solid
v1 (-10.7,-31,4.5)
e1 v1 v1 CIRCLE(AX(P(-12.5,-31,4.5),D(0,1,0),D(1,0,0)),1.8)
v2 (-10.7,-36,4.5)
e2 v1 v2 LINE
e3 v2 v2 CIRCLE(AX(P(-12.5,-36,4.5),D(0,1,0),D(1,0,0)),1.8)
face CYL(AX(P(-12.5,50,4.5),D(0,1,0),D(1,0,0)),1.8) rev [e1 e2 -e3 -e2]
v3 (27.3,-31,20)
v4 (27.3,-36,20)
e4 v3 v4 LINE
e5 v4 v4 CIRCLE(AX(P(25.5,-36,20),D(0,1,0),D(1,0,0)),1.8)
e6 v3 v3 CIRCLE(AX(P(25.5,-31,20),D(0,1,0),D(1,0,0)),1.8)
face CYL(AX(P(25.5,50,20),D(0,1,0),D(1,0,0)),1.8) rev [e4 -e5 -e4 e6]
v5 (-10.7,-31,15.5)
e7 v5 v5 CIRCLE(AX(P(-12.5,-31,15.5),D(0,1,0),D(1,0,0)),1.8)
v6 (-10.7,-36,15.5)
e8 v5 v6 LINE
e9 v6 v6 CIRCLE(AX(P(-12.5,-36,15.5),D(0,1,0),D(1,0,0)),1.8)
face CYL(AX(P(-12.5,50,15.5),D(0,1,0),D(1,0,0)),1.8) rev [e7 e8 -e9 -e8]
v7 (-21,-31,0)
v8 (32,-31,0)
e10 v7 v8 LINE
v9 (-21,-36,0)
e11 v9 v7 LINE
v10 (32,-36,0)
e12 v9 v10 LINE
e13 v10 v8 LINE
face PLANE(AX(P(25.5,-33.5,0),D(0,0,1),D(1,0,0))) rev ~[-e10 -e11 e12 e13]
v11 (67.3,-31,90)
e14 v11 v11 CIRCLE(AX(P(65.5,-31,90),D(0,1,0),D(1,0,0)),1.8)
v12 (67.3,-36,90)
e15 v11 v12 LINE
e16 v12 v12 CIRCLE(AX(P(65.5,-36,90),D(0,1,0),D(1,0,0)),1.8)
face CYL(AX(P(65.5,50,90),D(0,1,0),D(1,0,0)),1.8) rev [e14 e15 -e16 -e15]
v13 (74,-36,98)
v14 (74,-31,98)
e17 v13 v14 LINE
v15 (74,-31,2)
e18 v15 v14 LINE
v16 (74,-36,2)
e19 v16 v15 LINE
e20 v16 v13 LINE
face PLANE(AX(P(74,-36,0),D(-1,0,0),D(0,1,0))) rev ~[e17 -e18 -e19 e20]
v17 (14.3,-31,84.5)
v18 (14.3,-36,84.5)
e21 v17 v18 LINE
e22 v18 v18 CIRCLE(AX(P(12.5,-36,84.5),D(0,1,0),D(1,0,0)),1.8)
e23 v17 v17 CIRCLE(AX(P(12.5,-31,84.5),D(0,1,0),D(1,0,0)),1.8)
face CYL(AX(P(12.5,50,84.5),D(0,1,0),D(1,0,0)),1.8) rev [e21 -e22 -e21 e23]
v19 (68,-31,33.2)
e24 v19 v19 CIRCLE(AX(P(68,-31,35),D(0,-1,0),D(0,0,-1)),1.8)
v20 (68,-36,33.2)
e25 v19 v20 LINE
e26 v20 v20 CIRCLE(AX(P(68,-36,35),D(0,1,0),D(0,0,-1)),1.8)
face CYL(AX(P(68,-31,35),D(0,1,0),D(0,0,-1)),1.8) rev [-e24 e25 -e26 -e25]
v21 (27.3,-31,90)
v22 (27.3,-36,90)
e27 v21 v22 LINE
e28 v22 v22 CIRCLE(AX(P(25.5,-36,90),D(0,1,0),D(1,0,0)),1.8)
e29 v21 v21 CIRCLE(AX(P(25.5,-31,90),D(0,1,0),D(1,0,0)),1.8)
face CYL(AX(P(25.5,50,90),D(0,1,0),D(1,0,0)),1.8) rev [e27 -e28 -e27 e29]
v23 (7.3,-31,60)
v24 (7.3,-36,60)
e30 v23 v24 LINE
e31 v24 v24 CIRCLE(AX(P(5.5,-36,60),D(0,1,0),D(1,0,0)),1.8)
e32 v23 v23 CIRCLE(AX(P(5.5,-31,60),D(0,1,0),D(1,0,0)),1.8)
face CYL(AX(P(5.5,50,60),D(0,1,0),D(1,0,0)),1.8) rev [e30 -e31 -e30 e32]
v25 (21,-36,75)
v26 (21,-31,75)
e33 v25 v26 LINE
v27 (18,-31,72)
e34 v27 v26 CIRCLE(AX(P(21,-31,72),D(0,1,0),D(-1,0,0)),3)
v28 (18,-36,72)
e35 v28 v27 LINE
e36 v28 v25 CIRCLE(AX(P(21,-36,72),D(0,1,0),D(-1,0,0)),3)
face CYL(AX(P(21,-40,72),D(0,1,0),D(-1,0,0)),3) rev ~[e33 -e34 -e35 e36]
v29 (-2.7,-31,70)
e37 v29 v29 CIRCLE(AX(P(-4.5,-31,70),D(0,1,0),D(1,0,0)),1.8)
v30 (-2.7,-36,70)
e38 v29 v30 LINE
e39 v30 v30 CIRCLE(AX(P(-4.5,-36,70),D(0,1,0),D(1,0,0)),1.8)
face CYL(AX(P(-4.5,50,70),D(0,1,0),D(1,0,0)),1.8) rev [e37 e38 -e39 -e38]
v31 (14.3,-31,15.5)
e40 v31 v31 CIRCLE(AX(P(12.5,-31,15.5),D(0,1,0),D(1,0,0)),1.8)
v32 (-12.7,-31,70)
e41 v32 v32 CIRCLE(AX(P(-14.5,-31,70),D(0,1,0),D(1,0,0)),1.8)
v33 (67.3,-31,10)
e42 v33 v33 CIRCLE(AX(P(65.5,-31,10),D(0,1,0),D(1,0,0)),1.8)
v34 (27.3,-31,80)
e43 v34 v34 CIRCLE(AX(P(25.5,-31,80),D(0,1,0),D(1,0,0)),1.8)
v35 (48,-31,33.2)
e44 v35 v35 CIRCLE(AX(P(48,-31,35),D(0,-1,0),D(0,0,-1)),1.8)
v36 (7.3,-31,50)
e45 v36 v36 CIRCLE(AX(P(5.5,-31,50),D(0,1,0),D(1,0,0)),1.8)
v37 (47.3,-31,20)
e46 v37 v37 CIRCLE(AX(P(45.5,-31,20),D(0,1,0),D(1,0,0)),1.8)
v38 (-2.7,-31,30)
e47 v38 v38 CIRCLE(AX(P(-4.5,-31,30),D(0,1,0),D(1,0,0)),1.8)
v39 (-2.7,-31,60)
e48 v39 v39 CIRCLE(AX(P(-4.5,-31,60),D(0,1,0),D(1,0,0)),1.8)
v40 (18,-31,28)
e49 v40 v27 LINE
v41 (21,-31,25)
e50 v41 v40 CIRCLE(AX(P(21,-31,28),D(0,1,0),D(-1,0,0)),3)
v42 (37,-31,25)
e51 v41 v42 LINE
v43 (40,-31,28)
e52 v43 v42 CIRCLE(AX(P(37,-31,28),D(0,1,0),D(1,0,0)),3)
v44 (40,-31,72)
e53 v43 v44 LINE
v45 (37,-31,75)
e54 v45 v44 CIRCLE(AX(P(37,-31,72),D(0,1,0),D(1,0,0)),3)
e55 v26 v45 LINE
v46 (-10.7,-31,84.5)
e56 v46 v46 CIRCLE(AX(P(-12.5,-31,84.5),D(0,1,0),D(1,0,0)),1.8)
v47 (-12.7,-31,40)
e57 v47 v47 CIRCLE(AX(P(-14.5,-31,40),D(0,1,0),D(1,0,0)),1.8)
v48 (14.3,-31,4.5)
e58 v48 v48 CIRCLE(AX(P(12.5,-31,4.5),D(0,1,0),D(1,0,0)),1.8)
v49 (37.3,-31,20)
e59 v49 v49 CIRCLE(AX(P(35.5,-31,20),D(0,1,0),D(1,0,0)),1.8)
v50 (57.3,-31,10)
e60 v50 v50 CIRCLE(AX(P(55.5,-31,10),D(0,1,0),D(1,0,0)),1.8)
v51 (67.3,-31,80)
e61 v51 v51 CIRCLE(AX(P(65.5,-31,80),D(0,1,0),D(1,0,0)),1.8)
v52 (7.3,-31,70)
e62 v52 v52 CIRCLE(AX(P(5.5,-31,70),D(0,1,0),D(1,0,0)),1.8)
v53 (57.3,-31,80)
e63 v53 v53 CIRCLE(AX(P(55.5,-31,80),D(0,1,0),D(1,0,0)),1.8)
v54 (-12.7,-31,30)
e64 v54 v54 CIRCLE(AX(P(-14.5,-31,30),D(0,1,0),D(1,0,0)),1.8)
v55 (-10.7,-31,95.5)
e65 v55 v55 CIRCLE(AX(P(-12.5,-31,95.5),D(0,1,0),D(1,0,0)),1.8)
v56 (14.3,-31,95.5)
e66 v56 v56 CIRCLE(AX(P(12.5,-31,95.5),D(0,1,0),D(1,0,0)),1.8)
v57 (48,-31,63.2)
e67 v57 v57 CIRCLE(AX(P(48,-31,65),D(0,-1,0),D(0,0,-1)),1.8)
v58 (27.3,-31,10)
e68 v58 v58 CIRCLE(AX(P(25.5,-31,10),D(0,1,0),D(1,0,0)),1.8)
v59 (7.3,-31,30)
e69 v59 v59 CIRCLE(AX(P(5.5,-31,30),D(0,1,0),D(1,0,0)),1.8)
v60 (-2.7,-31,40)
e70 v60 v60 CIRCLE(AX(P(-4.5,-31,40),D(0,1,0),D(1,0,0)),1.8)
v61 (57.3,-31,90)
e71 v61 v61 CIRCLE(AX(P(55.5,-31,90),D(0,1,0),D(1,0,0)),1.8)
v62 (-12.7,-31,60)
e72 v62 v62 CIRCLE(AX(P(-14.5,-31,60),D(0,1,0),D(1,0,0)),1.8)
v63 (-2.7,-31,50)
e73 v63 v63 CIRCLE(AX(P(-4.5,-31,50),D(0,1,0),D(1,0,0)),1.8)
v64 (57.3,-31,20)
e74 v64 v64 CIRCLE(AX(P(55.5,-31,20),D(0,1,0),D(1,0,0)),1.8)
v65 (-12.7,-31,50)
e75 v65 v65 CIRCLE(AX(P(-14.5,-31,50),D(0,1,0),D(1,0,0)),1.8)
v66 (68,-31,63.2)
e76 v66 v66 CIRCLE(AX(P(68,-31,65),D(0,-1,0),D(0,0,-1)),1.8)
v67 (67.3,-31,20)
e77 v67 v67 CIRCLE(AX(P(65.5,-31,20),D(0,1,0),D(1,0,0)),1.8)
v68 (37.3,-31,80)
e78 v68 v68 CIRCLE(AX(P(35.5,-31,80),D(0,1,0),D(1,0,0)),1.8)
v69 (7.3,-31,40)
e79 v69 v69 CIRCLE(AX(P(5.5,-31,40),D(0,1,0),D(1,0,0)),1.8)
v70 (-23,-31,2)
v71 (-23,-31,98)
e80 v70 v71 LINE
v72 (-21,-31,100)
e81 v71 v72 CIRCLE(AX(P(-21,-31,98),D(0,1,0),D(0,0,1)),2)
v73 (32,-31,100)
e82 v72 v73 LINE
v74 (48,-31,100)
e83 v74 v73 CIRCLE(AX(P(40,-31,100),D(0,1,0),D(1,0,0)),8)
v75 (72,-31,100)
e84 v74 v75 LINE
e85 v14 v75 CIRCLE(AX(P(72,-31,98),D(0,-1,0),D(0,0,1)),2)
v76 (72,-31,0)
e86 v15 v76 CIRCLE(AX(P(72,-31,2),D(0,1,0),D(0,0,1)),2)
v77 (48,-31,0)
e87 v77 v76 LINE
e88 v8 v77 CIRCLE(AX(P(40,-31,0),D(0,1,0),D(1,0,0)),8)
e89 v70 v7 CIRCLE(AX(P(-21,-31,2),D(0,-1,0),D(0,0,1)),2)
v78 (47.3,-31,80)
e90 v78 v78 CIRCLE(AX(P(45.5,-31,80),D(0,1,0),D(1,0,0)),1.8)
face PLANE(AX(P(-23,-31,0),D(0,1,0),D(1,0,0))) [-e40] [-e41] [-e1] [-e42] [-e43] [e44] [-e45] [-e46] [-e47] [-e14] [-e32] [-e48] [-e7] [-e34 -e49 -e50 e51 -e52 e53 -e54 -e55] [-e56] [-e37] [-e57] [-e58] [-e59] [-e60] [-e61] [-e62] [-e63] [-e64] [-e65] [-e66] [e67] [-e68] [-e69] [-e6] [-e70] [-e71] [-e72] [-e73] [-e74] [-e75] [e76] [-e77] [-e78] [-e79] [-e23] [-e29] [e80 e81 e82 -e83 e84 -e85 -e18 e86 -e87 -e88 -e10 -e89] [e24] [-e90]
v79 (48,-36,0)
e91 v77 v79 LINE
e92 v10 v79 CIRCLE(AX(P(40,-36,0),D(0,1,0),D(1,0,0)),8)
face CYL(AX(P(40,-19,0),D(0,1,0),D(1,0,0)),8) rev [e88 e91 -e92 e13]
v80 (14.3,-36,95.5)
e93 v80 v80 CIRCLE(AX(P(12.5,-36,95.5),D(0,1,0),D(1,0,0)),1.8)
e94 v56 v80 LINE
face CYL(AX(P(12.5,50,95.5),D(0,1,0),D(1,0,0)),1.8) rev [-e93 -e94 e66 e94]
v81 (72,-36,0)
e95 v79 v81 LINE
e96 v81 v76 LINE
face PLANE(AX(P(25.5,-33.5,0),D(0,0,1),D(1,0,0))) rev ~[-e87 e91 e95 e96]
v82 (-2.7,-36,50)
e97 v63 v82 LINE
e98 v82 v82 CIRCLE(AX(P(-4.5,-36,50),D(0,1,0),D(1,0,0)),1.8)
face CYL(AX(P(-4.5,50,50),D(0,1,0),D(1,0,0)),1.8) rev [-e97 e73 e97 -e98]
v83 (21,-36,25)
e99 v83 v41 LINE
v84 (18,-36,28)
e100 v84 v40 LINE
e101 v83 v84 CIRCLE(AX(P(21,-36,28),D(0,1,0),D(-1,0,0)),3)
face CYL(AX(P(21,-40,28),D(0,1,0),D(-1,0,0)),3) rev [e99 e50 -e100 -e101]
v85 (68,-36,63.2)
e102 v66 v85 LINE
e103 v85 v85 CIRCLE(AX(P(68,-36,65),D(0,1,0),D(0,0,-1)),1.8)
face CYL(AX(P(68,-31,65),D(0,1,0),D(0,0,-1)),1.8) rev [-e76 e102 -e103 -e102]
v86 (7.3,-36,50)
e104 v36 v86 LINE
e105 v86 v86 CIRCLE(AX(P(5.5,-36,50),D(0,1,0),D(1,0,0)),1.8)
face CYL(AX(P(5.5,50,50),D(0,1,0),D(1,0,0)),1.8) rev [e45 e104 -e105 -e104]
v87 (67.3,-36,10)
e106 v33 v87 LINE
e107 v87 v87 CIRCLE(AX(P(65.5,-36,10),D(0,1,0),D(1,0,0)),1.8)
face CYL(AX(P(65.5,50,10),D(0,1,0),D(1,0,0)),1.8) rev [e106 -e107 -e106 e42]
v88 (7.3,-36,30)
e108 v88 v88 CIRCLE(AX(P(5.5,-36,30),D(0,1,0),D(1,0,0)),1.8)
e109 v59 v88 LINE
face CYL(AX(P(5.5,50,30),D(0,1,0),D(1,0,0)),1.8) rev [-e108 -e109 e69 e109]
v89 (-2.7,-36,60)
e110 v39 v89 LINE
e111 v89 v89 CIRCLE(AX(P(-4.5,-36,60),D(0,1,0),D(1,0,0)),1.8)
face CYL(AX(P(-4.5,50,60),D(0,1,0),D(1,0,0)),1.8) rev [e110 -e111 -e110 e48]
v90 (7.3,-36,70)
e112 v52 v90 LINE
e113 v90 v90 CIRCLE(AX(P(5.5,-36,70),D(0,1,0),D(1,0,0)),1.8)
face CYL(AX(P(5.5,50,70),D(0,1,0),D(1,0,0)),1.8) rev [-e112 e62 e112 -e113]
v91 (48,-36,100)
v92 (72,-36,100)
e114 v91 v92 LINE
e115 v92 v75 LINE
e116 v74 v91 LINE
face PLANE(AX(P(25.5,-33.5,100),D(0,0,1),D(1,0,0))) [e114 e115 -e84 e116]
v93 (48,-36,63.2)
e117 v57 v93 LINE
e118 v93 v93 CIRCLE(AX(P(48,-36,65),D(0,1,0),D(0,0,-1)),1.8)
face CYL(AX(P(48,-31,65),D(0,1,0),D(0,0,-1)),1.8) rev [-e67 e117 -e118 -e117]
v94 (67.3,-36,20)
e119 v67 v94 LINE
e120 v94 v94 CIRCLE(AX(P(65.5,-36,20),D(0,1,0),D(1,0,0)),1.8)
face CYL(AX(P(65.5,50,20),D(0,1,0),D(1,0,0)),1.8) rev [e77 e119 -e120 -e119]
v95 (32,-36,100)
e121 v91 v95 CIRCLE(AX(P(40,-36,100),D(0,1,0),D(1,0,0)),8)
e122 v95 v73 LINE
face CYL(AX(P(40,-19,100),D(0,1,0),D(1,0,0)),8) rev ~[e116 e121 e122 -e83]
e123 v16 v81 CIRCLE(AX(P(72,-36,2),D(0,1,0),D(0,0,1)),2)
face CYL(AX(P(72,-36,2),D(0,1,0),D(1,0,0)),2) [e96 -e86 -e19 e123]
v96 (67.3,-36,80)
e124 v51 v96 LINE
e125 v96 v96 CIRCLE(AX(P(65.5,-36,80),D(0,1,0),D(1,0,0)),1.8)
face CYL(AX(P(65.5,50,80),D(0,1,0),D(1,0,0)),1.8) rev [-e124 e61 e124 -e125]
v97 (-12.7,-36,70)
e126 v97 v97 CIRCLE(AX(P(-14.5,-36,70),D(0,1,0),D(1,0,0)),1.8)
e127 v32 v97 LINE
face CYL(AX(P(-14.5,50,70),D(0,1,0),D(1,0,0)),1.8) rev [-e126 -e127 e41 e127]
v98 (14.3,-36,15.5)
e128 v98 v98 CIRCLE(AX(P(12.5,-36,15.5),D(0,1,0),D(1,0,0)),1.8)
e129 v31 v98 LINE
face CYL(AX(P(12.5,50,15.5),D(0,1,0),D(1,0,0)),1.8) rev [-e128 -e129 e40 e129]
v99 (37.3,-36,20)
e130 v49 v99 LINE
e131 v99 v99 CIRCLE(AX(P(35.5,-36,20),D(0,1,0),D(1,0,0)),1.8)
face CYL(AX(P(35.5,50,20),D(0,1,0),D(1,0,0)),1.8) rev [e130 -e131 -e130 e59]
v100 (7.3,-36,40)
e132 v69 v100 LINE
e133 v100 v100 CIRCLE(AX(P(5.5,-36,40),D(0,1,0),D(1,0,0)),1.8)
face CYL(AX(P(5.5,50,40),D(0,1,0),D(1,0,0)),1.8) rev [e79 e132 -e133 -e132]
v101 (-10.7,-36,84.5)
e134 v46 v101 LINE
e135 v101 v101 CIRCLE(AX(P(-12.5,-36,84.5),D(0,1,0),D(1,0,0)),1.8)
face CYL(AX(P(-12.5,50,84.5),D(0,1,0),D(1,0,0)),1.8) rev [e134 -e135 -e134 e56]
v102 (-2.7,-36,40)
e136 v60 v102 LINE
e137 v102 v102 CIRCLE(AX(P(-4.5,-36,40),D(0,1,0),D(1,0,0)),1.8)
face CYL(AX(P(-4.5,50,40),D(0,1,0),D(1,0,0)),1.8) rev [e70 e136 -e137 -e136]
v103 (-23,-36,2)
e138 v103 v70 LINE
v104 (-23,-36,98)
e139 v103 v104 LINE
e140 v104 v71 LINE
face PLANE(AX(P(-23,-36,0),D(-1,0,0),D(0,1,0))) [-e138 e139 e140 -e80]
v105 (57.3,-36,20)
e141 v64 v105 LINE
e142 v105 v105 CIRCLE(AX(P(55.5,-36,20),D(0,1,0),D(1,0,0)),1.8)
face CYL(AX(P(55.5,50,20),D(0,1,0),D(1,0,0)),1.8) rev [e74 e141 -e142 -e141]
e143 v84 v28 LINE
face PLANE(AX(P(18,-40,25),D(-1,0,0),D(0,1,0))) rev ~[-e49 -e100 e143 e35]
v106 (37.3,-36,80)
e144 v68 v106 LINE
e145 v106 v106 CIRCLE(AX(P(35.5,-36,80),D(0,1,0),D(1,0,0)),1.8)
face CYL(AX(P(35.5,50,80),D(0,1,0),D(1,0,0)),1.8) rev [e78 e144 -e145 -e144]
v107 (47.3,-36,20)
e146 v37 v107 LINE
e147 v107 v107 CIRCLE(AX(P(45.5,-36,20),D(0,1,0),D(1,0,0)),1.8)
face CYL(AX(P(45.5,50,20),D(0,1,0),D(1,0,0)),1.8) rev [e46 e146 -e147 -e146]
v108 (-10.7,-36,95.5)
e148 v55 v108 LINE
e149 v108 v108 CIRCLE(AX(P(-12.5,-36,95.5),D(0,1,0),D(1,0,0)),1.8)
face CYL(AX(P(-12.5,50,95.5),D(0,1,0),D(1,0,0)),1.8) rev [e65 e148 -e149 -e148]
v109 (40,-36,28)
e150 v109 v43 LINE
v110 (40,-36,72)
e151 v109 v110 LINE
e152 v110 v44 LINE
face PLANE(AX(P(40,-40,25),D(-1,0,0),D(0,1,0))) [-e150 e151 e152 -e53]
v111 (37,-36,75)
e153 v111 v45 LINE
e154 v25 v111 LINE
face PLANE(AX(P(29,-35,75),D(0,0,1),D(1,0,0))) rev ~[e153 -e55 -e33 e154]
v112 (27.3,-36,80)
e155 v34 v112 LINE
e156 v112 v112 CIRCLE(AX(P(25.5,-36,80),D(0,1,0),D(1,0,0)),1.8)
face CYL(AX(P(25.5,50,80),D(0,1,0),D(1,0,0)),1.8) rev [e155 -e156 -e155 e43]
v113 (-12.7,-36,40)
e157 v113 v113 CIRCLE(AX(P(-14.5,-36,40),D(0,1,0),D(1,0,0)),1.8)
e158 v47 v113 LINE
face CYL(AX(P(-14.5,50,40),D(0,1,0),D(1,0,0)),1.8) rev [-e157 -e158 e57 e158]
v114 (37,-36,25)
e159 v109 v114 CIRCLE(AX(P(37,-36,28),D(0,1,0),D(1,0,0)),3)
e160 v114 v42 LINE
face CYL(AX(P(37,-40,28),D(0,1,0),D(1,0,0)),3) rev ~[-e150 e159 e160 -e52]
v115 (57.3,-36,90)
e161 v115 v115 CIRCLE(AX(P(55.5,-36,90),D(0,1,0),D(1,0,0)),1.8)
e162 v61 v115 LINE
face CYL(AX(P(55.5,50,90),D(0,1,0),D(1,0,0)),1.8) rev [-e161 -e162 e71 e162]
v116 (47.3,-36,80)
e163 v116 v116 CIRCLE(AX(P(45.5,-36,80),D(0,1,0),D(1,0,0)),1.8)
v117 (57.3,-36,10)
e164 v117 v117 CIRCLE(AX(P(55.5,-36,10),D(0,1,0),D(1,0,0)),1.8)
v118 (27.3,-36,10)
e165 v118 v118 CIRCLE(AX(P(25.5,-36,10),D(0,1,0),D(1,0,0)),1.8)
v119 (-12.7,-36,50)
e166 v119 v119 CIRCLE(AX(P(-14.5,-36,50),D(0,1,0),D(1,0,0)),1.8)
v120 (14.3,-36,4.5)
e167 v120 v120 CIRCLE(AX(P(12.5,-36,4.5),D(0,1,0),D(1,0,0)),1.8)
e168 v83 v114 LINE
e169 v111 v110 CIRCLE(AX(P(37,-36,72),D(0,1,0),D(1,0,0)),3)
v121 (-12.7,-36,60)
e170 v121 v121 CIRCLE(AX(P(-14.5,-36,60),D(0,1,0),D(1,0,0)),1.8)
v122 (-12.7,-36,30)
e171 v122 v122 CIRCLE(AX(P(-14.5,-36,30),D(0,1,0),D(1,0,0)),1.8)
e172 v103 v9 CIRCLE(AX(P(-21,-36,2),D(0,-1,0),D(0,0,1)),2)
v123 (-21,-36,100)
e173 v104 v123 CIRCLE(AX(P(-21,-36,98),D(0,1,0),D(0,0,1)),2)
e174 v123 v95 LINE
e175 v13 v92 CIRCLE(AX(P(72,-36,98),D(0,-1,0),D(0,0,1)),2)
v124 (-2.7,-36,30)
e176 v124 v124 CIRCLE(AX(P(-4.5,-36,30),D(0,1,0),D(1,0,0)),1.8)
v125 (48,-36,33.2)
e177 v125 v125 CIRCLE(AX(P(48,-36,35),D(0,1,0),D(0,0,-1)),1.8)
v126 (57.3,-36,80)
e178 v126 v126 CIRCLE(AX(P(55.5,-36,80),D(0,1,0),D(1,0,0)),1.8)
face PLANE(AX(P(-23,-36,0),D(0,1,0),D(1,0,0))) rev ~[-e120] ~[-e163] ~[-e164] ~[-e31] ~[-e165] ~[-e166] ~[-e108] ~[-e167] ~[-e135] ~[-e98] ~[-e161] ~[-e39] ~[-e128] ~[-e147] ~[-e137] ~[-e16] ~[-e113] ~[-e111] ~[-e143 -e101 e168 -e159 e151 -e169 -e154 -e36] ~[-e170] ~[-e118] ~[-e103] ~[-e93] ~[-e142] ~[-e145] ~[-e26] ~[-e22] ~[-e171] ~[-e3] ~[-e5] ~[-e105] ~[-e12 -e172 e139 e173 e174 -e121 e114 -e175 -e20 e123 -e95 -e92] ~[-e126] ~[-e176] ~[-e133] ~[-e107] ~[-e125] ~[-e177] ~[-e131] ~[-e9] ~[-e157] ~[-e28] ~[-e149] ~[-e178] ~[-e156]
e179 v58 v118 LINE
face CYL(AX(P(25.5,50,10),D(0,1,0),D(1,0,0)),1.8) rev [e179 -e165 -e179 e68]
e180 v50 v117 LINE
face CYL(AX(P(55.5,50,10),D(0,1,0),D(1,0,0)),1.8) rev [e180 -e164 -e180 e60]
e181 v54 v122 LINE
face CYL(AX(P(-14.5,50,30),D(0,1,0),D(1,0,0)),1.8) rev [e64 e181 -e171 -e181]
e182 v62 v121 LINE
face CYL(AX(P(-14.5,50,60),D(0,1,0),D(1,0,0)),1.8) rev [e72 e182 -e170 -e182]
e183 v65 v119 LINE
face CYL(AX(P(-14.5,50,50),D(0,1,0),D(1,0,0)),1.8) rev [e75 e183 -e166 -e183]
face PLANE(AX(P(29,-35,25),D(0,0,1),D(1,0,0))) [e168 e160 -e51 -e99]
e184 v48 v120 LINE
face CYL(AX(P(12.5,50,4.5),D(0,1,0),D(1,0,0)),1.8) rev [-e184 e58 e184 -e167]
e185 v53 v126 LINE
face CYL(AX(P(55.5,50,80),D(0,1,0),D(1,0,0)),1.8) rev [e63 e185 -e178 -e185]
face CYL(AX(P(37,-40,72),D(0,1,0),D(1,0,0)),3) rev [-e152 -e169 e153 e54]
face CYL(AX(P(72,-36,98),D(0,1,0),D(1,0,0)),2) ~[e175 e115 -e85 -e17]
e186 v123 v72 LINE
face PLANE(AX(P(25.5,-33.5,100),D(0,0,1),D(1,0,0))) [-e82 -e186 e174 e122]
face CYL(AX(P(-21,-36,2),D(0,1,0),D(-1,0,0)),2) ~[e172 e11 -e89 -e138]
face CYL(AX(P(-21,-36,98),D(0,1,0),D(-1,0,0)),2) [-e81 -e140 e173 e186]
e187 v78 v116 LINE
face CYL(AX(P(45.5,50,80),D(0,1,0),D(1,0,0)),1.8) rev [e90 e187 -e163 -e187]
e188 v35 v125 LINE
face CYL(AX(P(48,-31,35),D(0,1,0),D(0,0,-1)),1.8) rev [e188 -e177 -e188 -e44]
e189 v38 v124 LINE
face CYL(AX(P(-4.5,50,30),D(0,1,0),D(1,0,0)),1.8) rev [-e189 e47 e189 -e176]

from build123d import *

# Parameters (mm, degrees)
CYLINDER038_R            = 1.8
CYLINDER038_DEPTH        = 100
ARRAY001_X_COUNT         = 2
ARRAY001_X_PITCH         = 25
ARRAY001_Y_COUNT         = 2
ARRAY001_Y_PITCH         = 11
ARRAY001_PLACEMENT_ANGLE = 90
ARRAY002_Z_COUNT         = 2
ARRAY002_Z_PITCH         = 80
CYLINDER011003_R         = 1.8
CYLINDER011003_DEPTH     = 10
ARRAY005_X_COUNT         = 2
ARRAY005_X_PITCH         = 30
ARRAY005_Y_COUNT         = 2
ARRAY005_Y_PITCH         = 20
ARRAY005_PITCH_ANGLE     = 90
ARRAY005_PLACEMENT_ANGLE = -90
BOX002_W                 = 22
BOX002_H                 = 10
BOX002_DEPTH             = 50
FILLET002_R              = 3
BOX003_W                 = 16
BOX003_H                 = 200
BOX003_DEPTH             = 50
CYLINDER_R               = 8
CYLINDER_DEPTH           = 200
SKETCH_W                 = 42.117567
SKETCH_H                 = 23.738708
SKETCH_W_2               = 40.471139
SKETCH_H_2               = 27.047569
SKETCH_W_3               = 29.381024
SKETCH_H_3               = 46.19655
SKETCH_W_4               = 20.234924
SKETCH_H_4               = 18.049118
SKETCH_W_5               = 22.001269
SKETCH_H_5               = 17.778789
SKETCH_W_6               = 9.111635
SKETCH_H_6               = 47.113838
EXTRUDE_DEPTH            = 50
CYLINDER011002_R         = 1.8
CYLINDER011002_DEPTH     = 100
ARRAY004_X_COUNT         = 9
ARRAY004_X_PITCH         = 10
ARRAY004_Z_COUNT         = 9
ARRAY004_Z_PITCH         = 10
BOX_W                    = 97
BOX_H                    = 5
BOX_DEPTH                = 100
FILLET_R                 = 2


with BuildPart() as bolt_hole_array_pair:
    # Cylinder038 → Cylinder038 (new body)
    with BuildSketch(Plane.XY.offset(-50)):
        Circle(CYLINDER038_R)
    extrude(amount=CYLINDER038_DEPTH)

    # Array001 X: bolt hole array pair ×2


with BuildPart() as bolt_hole_array_pair_1:
    add(bolt_hole_array_pair.part)
    with Locations(*[(i * ARRAY001_X_PITCH, 0, 0) for i in range(1, ARRAY001_X_COUNT)]):
        add(bolt_hole_array_pair.part)

    # Array001 Y: bolt hole array pair ×2


with BuildPart() as bolt_hole_array_pair_2:
    add(bolt_hole_array_pair_1.part)
    with Locations(*[(0, i * ARRAY001_Y_PITCH, 0) for i in range(1, ARRAY001_Y_COUNT)]):
        add(bolt_hole_array_pair_1.part)


with BuildPart() as bolt_hole_array_pair_3:
    # Array001 placement: moved
    add(bolt_hole_array_pair_2.part.moved(Location((-12.5, 0, 4.5))).rotate(Axis((-12.5, 0, 4.5), (1, 0, 0)), ARRAY001_PLACEMENT_ANGLE))

    # Array002 Z: bolt hole array pair ×2


with BuildPart() as bolt_hole_array_pair_4:
    add(bolt_hole_array_pair_3.part)
    with Locations(*[(0, 0, i * ARRAY002_Z_PITCH) for i in range(1, ARRAY002_Z_COUNT)]):
        add(bolt_hole_array_pair_3.part)


with BuildPart() as stepper_mount_hole_array:
    # Cylinder011003 → Cylinder011003 (new body)
    with BuildSketch(Plane.XY):
        Circle(CYLINDER011003_R)
    extrude(amount=CYLINDER011003_DEPTH)

    # Array005 X: stepper mount hole array ×2


with BuildPart() as stepper_mount_hole_array_1:
    add(stepper_mount_hole_array.part)
    with Locations(*[(i * ARRAY005_X_PITCH, 0, 0) for i in range(1, ARRAY005_X_COUNT)]):
        add(stepper_mount_hole_array.part)

    # Array005 Y: stepper mount hole array ×2


with BuildPart() as stepper_mount_hole_array_2:
    add(stepper_mount_hole_array_1.part)
    with Locations(*[(0, i * ARRAY005_Y_PITCH, 0) for i in range(1, ARRAY005_Y_COUNT)]):
        add(stepper_mount_hole_array_1.part)


with BuildPart() as stepper_mount_hole_array_3:
    # Array005 pitch: moved
    add(stepper_mount_hole_array_2.part.rotate(Axis((0, 0, 0), (0, 1, 0)), ARRAY005_PITCH_ANGLE))


with BuildPart() as stepper_mount_hole_array_4:
    # Array005 placement: moved
    add(stepper_mount_hole_array_3.part.moved(Location((48, -31, 65))).rotate(Axis((48, -31, 65), (0, 0, 1)), ARRAY005_PLACEMENT_ANGLE))


with BuildPart() as belt_hole_fillet:
    # Box002 → Box002 (new body)
    with BuildSketch(Plane(origin=(18, -40, 25), x_dir=(1, 0, 0), z_dir=(0, 0, 1))):
        with Locations((11, 5)):
            Rectangle(BOX002_W, BOX002_H)
    extrude(amount=BOX002_DEPTH)

    # Fillet002
    fillet002_edges = [belt_hole_fillet.edges().sort_by_distance(p)[0] for p in [
        (18, -35, 75),
        (18, -35, 25),
        (40, -35, 75),
        (40, -35, 25),
    ]]
    fillet(fillet002_edges, radius=FILLET002_R)


with BuildPart() as shaft_extension_cube:
    # Box003 → Box003 (new body)
    with BuildSketch(Plane(origin=(-8, -200, -50), x_dir=(1, 0, 0), z_dir=(0, 0, 1))):
        with Locations((8, 100)):
            Rectangle(BOX003_W, BOX003_H)
    extrude(amount=BOX003_DEPTH)


with BuildPart() as shaft_16mm_hole:
    # Cylinder → Cylinder (new body)
    with BuildSketch(Plane.XZ):
        Circle(CYLINDER_R)
    extrude(amount=CYLINDER_DEPTH)

    # Fusion002: union shaft extension cube
    add(shaft_extension_cube.part)


with BuildPart() as shaft_16mm_hole_1:
    # Fusion002 placement: moved
    add(shaft_16mm_hole.part.moved(Location((40, -19, 0))))


with BuildPart() as part_mirroring:
    # Part__Mirroring: instance of shaft 16mm hole
    add(shaft_16mm_hole_1.part.mirror(Plane(origin=(0, 0, 50), x_dir=(0, 1, 0), z_dir=(0, 0, 1))))


with BuildPart() as general_holes_extrude:
    # Sketch → Extrude (new body, symmetric)
    with BuildSketch(Plane.XZ):
        with Locations((-1.795196, 11.674214)):
            Rectangle(SKETCH_W, SKETCH_H)
        with Locations((-0.985158, 89.151065)):
            Rectangle(SKETCH_W_2, SKETCH_H_2)
        with Locations((57.017252, 49.302802)):
            Rectangle(SKETCH_W_3, SKETCH_H_3)
        with Locations((41.531349, 93.530205)):
            Rectangle(SKETCH_W_4, SKETCH_H_4)
        with Locations((39.547934, 5.882593)):
            Rectangle(SKETCH_W_5, SKETCH_H_5)
        with Locations((15.74623, 50.03809)):
            Rectangle(SKETCH_W_6, SKETCH_H_6)
    extrude(amount=EXTRUDE_DEPTH, both=True)


with BuildPart() as hole_fusion:
    # Cylinder011002 → Cylinder011002 (new body)
    with BuildSketch(Plane.XZ.offset(-50)):
        Circle(CYLINDER011002_R)
    extrude(amount=CYLINDER011002_DEPTH)

    # Array004 X: hole fusion ×9


with BuildPart() as hole_fusion_1:
    add(hole_fusion.part)
    with Locations(*[(i * ARRAY004_X_PITCH, 0, 0) for i in range(1, ARRAY004_X_COUNT)]):
        add(hole_fusion.part)

    # Array004 Z: hole fusion ×9


with BuildPart() as hole_fusion_2:
    add(hole_fusion_1.part)
    with Locations(*[(0, 0, i * ARRAY004_Z_PITCH) for i in range(1, ARRAY004_Z_COUNT)]):
        add(hole_fusion_1.part)


with BuildPart() as hole_fusion_3:
    # Array004 placement: moved
    add(hole_fusion_2.part.moved(Location((-14.5, 0, 10))))

    # Cut: cut general holes extrude
    add(general_holes_extrude.part, mode=Mode.SUBTRACT)

    # Fusion: union bolt hole array pair, stepper mount hole array, belt hole fillet, Part__Mirroring, shaft 16mm hole
    add(bolt_hole_array_pair_4.part)
    add(stepper_mount_hole_array_4.part)
    add(belt_hole_fillet.part)
    add(part_mirroring.part)
    add(shaft_16mm_hole_1.part)


with BuildPart() as side_plate_cut:
    # Box → Box (new body)
    with BuildSketch(Plane(origin=(-23, -36, 0), x_dir=(1, 0, 0), z_dir=(0, 0, 1))):
        with Locations((48.5, 2.5)):
            Rectangle(BOX_W, BOX_H)
    extrude(amount=BOX_DEPTH)

    # Fillet
    fillet_edges = [side_plate_cut.edges().sort_by_distance(p)[0] for p in [
        (-23, -33.5, 100),
        (-23, -33.5, 0),
        (74, -33.5, 100),
        (74, -33.5, 0),
    ]]
    fillet(fillet_edges, radius=FILLET_R)

    # Cut023015009002: cut hole fusion
    add(hole_fusion_3.part, mode=Mode.SUBTRACT)


solid = side_plate_cut.part
